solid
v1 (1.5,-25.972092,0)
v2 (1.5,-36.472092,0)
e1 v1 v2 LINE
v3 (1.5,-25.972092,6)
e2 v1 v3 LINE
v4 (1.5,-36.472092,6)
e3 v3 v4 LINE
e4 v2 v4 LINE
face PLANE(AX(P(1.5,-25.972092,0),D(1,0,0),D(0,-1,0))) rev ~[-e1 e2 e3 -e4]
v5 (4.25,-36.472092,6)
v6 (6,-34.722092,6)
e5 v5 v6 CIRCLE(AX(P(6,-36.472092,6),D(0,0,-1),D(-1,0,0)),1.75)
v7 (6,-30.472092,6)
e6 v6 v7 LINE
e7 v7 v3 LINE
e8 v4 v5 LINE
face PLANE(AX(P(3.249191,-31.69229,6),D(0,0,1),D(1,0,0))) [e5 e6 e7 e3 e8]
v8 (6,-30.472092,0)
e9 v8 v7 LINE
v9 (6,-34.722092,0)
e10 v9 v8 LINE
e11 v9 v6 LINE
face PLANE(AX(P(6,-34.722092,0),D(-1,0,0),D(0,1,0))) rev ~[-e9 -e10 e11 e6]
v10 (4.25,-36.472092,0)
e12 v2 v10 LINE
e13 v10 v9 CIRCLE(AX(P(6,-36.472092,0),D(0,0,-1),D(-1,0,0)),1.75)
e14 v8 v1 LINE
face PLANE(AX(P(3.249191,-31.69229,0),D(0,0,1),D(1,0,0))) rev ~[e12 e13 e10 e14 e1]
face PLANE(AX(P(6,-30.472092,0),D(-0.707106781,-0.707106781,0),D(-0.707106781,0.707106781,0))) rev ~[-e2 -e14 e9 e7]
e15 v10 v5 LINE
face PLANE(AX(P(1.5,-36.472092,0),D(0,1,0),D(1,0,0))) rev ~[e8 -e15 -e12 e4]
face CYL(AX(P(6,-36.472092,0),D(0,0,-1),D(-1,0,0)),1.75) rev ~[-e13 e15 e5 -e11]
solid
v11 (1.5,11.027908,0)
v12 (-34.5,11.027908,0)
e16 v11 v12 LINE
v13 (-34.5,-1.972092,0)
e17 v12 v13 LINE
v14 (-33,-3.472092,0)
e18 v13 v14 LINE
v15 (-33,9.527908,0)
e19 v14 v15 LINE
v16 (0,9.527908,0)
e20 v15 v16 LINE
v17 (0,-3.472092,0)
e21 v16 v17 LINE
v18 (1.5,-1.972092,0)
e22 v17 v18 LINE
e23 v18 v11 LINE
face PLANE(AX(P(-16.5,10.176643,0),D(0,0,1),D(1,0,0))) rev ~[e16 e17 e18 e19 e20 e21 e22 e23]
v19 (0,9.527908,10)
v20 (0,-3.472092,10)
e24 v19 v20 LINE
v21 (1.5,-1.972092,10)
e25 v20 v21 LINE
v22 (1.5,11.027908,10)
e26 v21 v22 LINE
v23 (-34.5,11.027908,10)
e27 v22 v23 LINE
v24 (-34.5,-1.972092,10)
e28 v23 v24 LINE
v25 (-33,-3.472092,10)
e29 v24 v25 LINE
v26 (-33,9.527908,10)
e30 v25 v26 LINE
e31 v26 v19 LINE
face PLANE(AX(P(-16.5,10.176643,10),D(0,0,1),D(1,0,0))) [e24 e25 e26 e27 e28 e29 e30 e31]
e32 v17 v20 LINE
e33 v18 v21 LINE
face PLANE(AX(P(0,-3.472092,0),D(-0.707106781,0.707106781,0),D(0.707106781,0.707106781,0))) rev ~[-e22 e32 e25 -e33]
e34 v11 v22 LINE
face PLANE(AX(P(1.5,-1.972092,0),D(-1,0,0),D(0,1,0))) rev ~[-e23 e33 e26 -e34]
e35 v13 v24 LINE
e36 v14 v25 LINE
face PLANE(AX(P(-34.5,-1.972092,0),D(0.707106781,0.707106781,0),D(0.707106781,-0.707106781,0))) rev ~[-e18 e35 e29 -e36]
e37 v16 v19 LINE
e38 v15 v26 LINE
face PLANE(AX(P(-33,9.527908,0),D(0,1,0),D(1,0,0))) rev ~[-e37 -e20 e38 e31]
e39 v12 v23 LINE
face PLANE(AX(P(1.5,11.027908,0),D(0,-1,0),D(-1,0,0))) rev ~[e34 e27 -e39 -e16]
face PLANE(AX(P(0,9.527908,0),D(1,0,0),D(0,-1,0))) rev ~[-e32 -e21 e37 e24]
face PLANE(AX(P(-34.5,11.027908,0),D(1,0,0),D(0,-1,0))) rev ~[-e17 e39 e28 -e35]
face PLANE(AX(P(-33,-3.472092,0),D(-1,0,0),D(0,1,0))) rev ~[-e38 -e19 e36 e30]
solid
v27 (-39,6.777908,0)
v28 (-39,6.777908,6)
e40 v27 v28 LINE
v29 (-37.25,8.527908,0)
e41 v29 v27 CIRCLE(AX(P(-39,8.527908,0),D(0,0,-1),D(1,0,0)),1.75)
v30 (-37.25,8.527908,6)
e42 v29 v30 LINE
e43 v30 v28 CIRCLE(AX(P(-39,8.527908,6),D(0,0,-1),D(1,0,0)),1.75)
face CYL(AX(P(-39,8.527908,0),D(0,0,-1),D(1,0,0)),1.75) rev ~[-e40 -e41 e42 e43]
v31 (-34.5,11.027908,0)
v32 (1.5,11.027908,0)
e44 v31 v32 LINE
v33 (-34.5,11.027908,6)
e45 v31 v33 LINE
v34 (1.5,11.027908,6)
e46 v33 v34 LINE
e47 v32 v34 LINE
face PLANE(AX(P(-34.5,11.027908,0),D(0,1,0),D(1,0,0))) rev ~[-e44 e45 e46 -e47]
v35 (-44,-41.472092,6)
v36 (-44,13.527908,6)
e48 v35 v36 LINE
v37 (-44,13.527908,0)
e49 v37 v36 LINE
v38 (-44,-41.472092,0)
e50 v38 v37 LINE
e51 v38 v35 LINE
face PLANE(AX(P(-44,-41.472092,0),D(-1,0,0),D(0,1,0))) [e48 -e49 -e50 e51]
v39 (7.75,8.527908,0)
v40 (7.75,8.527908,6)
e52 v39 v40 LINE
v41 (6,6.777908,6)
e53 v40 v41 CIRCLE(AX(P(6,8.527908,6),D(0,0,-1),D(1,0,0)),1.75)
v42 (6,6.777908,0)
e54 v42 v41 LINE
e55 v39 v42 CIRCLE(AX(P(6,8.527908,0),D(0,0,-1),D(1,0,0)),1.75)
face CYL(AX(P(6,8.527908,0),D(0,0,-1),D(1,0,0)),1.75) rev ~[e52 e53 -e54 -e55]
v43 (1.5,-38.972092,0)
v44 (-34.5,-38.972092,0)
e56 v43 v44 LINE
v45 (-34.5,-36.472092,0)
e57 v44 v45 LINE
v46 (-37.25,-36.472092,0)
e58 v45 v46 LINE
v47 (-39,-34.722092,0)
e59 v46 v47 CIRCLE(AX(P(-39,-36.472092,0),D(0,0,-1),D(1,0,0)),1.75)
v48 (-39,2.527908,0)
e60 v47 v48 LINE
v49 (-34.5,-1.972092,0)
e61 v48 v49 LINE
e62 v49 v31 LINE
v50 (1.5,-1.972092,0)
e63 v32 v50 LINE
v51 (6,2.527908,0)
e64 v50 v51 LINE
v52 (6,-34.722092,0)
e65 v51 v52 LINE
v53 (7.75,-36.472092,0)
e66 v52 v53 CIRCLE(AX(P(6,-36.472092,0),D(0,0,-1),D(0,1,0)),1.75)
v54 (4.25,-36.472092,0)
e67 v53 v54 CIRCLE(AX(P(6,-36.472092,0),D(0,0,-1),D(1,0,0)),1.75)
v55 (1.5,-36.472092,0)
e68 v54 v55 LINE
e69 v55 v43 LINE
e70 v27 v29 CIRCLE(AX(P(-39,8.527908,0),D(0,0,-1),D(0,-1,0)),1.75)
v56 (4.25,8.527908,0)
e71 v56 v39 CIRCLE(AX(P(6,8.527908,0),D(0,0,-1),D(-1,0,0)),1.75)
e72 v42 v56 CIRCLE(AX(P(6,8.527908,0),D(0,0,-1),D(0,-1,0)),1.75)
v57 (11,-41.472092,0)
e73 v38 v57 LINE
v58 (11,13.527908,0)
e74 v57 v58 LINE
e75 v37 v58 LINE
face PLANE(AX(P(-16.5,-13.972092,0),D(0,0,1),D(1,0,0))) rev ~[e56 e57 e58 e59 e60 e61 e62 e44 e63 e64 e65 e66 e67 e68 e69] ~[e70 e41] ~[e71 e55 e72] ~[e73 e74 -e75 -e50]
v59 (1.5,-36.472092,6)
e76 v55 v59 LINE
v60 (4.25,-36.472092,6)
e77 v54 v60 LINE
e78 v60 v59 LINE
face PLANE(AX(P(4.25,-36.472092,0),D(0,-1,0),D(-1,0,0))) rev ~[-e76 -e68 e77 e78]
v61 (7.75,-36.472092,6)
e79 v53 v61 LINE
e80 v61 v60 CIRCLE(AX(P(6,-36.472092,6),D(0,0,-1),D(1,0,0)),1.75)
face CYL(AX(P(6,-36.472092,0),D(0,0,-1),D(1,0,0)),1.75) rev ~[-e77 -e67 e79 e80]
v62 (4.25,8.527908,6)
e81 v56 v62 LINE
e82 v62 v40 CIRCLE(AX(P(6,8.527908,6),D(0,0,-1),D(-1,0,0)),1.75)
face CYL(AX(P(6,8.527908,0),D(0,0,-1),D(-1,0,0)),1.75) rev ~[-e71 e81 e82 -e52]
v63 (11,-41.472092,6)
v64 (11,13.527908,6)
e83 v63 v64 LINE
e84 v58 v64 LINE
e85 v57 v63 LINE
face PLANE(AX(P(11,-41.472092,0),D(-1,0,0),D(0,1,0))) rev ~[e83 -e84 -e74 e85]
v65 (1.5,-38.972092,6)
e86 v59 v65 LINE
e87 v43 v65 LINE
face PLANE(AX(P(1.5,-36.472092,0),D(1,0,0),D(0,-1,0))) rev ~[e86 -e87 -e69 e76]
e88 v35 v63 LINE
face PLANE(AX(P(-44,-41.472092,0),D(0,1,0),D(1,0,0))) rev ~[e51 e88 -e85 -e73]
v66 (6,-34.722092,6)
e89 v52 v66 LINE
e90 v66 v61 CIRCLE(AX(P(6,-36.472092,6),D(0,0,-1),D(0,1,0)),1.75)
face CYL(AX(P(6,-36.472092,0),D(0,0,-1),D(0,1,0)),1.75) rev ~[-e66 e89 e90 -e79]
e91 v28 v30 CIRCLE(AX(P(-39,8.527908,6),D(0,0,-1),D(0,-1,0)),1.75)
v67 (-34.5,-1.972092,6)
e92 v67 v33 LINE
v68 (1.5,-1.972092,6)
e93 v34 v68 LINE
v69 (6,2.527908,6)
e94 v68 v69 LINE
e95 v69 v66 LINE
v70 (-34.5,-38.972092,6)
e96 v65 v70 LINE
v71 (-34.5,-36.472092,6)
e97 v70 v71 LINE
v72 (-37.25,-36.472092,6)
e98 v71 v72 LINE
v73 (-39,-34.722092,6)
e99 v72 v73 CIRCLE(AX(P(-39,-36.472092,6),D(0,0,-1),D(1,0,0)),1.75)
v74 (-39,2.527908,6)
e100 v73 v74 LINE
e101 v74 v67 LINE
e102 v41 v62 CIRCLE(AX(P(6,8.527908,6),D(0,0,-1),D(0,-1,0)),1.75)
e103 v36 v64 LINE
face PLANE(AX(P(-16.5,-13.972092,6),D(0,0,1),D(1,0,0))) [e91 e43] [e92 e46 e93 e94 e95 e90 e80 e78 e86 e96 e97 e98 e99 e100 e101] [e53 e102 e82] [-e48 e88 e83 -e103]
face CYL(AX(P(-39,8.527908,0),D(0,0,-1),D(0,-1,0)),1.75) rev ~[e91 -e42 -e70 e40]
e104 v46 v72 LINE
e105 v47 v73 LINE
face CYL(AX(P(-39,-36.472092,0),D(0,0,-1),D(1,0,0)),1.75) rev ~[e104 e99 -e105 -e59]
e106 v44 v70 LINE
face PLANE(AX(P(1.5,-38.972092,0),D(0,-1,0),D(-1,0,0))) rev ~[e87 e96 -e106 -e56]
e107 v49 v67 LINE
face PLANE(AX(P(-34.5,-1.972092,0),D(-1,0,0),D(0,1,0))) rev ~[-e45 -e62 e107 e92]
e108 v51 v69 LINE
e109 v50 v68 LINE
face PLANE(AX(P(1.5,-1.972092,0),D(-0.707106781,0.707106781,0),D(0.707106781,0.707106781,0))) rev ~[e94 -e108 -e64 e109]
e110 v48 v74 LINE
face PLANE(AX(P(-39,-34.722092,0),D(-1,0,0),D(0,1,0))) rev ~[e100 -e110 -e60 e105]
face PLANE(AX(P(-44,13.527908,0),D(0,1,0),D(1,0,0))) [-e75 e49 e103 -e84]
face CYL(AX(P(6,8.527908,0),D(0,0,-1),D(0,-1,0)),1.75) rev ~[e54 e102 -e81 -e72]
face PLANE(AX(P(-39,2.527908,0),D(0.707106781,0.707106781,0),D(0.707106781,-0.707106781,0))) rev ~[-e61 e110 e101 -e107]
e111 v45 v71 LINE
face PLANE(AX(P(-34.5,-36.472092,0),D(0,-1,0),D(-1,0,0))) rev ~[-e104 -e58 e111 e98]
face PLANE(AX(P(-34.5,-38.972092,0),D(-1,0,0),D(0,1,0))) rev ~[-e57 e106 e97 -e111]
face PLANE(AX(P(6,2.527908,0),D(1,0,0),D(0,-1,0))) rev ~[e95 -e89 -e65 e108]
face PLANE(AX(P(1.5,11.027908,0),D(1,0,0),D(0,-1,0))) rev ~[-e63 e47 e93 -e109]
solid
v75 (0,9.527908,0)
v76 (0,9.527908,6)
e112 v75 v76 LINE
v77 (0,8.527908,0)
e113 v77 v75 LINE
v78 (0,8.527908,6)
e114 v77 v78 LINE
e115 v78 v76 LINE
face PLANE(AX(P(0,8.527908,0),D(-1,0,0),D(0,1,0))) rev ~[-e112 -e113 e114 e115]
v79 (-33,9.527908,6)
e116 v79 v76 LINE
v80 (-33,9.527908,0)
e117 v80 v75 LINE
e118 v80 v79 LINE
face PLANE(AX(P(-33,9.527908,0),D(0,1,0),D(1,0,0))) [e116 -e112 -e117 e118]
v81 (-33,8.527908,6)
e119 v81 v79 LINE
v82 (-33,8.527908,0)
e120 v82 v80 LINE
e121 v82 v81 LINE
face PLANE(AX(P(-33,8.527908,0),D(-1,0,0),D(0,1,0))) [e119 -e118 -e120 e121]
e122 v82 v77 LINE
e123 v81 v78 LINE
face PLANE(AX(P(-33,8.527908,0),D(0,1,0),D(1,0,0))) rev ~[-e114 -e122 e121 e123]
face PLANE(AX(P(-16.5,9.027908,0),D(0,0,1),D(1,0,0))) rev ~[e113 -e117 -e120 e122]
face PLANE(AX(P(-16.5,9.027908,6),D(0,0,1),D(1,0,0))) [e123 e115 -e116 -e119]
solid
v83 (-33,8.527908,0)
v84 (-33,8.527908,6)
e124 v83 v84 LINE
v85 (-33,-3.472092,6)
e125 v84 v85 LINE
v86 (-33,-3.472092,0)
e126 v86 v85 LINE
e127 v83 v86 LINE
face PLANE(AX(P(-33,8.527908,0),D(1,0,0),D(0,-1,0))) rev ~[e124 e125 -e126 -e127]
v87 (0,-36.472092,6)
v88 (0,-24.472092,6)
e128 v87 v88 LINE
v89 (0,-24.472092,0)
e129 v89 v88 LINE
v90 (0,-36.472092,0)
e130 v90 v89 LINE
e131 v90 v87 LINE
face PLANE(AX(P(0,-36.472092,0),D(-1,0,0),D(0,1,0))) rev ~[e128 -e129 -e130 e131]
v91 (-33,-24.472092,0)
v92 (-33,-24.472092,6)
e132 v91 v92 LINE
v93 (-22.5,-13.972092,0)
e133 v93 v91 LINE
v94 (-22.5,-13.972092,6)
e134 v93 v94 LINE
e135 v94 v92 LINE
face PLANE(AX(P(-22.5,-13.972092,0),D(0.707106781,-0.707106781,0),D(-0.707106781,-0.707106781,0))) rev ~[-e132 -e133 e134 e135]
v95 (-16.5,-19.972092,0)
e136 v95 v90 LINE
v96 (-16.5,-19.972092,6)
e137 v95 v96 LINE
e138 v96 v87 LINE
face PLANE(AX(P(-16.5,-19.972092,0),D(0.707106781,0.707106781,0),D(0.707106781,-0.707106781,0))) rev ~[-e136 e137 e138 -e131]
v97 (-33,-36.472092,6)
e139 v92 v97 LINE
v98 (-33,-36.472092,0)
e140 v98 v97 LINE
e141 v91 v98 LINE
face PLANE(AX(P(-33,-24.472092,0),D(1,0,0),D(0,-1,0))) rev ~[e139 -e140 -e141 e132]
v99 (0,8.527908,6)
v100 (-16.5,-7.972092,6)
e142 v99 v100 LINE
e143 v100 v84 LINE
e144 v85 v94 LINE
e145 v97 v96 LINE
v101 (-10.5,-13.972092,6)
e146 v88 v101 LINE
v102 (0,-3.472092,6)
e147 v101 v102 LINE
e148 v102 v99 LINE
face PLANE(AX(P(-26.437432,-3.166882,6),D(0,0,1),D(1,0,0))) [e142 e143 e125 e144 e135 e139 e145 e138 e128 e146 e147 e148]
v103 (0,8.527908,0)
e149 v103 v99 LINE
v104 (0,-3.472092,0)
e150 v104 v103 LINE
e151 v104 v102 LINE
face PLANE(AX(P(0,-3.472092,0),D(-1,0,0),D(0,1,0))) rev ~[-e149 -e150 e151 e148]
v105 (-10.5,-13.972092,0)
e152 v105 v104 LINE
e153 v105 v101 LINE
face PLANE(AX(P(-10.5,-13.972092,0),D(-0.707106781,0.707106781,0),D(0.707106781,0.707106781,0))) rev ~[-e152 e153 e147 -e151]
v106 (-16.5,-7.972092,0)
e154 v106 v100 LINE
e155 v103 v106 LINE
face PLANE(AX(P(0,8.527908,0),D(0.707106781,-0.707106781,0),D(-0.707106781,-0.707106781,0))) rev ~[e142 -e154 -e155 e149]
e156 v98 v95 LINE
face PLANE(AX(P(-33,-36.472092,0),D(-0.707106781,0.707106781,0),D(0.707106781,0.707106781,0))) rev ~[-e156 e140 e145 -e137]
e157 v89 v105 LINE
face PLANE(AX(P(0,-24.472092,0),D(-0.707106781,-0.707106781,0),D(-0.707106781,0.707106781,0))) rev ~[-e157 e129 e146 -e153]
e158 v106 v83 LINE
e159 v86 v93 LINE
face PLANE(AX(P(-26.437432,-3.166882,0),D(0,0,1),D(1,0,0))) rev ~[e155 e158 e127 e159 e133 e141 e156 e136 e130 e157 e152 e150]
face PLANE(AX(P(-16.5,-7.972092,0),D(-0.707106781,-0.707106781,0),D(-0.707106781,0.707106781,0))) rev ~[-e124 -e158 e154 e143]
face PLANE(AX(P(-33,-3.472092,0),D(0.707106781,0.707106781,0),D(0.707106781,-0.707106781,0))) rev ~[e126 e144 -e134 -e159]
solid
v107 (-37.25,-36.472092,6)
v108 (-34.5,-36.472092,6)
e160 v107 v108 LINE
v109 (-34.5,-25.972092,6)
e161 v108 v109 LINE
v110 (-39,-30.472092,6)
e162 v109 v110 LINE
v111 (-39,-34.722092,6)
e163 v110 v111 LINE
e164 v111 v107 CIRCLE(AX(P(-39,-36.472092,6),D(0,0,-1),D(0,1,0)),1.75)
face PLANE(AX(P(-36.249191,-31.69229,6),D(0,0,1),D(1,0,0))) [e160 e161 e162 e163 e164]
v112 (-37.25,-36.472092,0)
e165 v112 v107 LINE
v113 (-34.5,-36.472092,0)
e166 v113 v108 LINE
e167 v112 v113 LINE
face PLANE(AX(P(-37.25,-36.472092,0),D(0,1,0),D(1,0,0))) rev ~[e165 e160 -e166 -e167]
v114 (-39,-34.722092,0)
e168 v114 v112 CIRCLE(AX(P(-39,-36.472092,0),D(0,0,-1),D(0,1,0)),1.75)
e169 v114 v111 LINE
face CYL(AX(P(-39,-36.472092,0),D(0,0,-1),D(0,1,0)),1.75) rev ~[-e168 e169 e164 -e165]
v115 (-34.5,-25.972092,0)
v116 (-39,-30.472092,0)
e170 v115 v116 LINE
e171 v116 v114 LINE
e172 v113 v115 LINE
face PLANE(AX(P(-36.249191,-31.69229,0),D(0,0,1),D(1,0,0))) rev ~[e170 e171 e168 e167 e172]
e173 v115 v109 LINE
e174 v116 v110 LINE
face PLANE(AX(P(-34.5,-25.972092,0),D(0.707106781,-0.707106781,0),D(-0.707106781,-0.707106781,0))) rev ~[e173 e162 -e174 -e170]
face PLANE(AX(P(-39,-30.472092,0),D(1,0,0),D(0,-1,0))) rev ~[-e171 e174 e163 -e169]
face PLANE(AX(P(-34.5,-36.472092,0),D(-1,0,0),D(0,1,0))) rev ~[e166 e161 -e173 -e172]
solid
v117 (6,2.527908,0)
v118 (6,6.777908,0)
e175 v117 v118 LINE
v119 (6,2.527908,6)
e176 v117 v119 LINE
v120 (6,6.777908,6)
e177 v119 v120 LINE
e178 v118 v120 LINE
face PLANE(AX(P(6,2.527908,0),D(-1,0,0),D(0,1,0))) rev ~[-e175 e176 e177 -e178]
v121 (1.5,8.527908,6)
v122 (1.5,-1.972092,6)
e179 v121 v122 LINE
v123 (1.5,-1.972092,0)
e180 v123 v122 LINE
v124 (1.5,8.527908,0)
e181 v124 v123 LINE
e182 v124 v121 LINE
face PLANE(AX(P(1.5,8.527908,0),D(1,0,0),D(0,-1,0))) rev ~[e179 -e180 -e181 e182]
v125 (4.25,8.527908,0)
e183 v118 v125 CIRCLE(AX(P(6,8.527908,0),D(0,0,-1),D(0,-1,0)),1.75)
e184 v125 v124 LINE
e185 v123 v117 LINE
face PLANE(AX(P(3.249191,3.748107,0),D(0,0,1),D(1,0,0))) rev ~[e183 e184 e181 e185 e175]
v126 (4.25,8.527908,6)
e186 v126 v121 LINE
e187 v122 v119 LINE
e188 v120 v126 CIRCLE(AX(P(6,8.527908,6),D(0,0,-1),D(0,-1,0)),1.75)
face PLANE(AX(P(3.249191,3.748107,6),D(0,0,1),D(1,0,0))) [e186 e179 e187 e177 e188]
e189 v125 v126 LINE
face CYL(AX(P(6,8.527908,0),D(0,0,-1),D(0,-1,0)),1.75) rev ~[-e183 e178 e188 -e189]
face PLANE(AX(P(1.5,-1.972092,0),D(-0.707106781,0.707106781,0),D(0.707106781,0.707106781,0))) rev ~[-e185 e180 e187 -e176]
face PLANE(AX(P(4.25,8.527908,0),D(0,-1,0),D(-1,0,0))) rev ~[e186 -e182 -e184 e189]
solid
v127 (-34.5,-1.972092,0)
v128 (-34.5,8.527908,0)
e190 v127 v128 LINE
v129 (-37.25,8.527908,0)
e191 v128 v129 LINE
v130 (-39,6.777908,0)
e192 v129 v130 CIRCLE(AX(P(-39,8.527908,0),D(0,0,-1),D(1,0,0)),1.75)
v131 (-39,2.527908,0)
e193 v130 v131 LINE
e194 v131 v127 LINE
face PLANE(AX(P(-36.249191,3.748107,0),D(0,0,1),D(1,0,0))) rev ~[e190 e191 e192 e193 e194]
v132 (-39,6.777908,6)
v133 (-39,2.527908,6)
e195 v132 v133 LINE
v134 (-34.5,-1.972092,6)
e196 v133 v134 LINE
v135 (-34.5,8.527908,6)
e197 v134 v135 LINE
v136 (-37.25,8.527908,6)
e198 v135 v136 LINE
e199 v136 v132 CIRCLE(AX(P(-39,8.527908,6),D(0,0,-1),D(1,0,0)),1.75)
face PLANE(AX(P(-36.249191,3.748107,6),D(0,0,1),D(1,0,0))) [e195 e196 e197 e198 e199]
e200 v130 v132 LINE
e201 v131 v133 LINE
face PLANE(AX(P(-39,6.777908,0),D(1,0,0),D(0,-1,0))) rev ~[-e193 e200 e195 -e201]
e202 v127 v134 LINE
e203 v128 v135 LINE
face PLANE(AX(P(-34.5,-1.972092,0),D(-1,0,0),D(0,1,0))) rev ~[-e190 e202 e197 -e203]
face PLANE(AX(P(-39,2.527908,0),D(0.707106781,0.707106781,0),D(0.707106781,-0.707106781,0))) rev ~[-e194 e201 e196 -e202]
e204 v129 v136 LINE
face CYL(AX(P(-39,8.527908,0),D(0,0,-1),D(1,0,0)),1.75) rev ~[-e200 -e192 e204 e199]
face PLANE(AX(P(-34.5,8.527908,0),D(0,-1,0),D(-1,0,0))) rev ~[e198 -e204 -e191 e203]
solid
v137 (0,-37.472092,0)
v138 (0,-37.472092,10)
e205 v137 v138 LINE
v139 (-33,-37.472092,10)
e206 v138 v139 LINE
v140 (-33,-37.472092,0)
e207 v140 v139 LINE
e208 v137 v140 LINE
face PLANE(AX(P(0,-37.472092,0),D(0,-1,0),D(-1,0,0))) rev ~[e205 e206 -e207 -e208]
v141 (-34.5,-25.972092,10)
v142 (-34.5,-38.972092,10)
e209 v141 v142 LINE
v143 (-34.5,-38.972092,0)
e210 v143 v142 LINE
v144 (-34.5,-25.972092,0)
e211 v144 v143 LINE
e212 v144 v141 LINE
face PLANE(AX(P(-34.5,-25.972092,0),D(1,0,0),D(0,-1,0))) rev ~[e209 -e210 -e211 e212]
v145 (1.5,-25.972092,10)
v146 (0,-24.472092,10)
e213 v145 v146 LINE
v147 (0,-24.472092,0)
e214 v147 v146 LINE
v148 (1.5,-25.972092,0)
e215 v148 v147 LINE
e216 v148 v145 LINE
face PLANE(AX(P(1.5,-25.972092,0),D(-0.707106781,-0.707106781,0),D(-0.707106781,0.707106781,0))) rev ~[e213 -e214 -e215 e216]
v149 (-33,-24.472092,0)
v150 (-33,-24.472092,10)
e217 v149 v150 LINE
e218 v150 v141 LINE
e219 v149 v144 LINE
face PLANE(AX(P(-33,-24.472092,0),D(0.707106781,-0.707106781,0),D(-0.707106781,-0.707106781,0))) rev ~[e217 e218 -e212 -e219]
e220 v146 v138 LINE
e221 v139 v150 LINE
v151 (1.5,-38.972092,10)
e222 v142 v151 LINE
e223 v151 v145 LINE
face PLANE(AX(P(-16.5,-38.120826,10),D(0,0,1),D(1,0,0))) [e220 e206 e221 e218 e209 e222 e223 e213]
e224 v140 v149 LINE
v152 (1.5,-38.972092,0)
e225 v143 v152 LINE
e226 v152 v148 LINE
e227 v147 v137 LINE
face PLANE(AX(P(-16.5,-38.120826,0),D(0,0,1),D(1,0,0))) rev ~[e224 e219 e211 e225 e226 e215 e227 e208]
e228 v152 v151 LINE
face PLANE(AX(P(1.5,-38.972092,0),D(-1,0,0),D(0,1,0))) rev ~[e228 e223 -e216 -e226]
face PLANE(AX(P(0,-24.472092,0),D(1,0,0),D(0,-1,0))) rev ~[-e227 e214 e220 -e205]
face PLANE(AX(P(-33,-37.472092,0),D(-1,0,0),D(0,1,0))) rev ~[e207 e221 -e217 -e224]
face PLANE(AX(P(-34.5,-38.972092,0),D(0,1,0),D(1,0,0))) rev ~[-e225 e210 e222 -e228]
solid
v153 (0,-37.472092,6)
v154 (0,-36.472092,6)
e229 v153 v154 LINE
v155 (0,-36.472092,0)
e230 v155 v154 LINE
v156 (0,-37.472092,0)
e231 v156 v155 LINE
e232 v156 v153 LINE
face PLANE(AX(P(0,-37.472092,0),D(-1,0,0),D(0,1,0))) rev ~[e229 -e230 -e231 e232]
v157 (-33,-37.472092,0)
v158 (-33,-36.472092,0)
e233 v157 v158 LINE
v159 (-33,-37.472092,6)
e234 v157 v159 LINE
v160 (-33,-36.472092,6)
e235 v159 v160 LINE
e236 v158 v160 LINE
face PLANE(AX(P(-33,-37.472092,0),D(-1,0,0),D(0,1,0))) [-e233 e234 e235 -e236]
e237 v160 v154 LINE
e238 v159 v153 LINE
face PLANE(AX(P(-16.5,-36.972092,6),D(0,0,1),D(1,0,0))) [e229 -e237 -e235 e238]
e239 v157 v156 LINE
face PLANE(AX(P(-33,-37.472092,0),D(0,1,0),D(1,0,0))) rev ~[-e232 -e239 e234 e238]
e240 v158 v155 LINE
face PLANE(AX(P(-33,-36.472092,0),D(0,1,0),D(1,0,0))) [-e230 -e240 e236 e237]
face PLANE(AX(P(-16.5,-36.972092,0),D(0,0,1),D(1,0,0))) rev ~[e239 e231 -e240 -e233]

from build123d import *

# Parameters (mm, degrees)
F0_W     = 55
F0_H     = 55
F1_DEPTH = 6
F0_W_2   = 33
F0_H_2   = 1
F2_DEPTH = 10
F3_DEPTH = 6


with BuildPart() as f1:
    # F0 (on Top) → F1 (new body)
    with BuildSketch(Plane.XY):
        with Locations((-16.5, -13.9720915013)):
            Rectangle(F0_W, F0_H)
        with BuildLine():
            ThreePointArc((-39, 6.7779084987), (-40.2374368671, 9.7653453658), (-37.25, 8.5279084987))
            Line((-37.25, 8.5279084987), (-34.5, 8.5279084987))
            Line((-34.5, 8.5279084987), (-34.5, 11.0279084987))
            Line((-34.5, 11.0279084987), (1.5, 11.0279084987))
            Line((1.5, 11.0279084987), (1.5, 8.5279084987))
            Line((1.5, 8.5279084987), (4.25, 8.5279084987))
            ThreePointArc((4.25, 8.5279084987), (6, 10.2779084987), (7.75, 8.5279084987))
            ThreePointArc((7.75, 8.5279084987), (7.2374368671, 7.2904716317), (6, 6.7779084987))
            Line((6, 6.7779084987), (6, 2.5279084987))
            Line((6, 2.5279084987), (6, -30.4720915013))
            Line((6, -30.4720915013), (6, -34.7220915013))
            ThreePointArc((6, -34.7220915013), (7.2374368671, -35.2346546342), (7.75, -36.4720915013))
            ThreePointArc((7.75, -36.4720915013), (6, -38.2220915013), (4.25, -36.4720915013))
            Line((4.25, -36.4720915013), (1.5, -36.4720915013))
            Line((1.5, -36.4720915013), (1.5, -38.9720915013))
            Line((1.5, -38.9720915013), (-34.5, -38.9720915013))
            Line((-34.5, -38.9720915013), (-34.5, -36.4720915013))
            Line((-34.5, -36.4720915013), (-37.25, -36.4720915013))
            ThreePointArc((-37.25, -36.4720915013), (-40.2374368671, -37.7095283683), (-39, -34.7220915013))
            Line((-39, -34.7220915013), (-39, -30.4720915013))
            Line((-39, -30.4720915013), (-39, 2.5279084987))
            Line((-39, 2.5279084987), (-39, 6.7779084987))
        make_face(mode=Mode.SUBTRACT)
        with BuildLine():
            Line((-34.5, 8.5279084987), (-37.25, 8.5279084987))
            ThreePointArc((-37.25, 8.5279084987), (-37.7625631329, 7.2904716317), (-39, 6.7779084987))
            Line((-39, 6.7779084987), (-39, 2.5279084987))
            Line((-39, 2.5279084987), (-34.5, -1.9720915013))
            Line((-34.5, -1.9720915013), (-34.5, 8.5279084987))
        make_face()
        with BuildLine():
            Line((4.25, 8.5279084987), (1.5, 8.5279084987))
            Line((1.5, 8.5279084987), (1.5, -1.9720915013))
            Line((1.5, -1.9720915013), (6, 2.5279084987))
            Line((6, 2.5279084987), (6, 6.7779084987))
            ThreePointArc((6, 6.7779084987), (4.7625631329, 7.2904716317), (4.25, 8.5279084987))
        make_face()
    extrude(amount=F1_DEPTH)


with BuildPart() as f1b:
    # F0 (on Top) → F1, piece 2 (new body)
    with BuildSketch(Plane.XY):
        with Locations((-16.5, 9.0279084987)):
            Rectangle(F0_W_2, F0_H_2)
    extrude(amount=F1_DEPTH)


with BuildPart() as f1c:
    # F0 (on Top) → F1, piece 3 (new body)
    with BuildSketch(Plane.XY):
        with Locations((-16.5, -36.9720915013)):
            Rectangle(F0_W_2, F0_H_2)
    extrude(amount=F1_DEPTH)


with BuildPart() as f2:
    # F0 (on Top) → F2 (new body)
    with BuildSketch(Plane.XY):
        Polygon((-34.5, 11.0279084987), (-34.5, 8.5279084987), (-33, 8.5279084987), (-33, 9.5279084987), (0, 9.5279084987), (0, 8.5279084987), (1.5, 8.5279084987), (1.5, 11.0279084987), align=None)
        Polygon((1.5, 8.5279084987), (0, 8.5279084987), (0, -3.4720915013), (1.5, -1.9720915013), align=None)
        Polygon((-33, 8.5279084987), (-34.5, 8.5279084987), (-34.5, -1.9720915013), (-33, -3.4720915013), align=None)
    extrude(amount=F2_DEPTH)


with BuildPart() as f2b:
    # F0 (on Top) → F2, piece 2 (new body)
    with BuildSketch(Plane.XY):
        Polygon((-33, -36.4720915013), (-34.5, -36.4720915013), (-34.5, -38.9720915013), (1.5, -38.9720915013), (1.5, -36.4720915013), (0, -36.4720915013), (0, -37.4720915013), (-33, -37.4720915013), align=None)
        Polygon((-33, -24.4720915013), (-34.5, -25.9720915013), (-34.5, -36.4720915013), (-33, -36.4720915013), align=None)
        Polygon((1.5, -25.9720915013), (0, -24.4720915013), (0, -36.4720915013), (1.5, -36.4720915013), align=None)
    extrude(amount=F2_DEPTH)


with BuildPart() as f3:
    # F0 (on Top) → F3 (new body)
    with BuildSketch(Plane.XY):
        Polygon((-16.5, -7.9720915013), (-33, 8.5279084987), (-33, -3.4720915013), (-22.5, -13.9720915013), align=None)
        Polygon((0, -24.4720915013), (-10.5, -13.9720915013), (-16.5, -19.9720915013), (0, -36.4720915013), align=None)
        Polygon((-22.5, -13.9720915013), (-33, -24.4720915013), (-33, -36.4720915013), (-16.5, -19.9720915013), align=None)
        Polygon((0, -3.4720915013), (0, 8.5279084987), (-16.5, -7.9720915013), (-10.5, -13.9720915013), align=None)
        Polygon((-10.5, -13.9720915013), (-16.5, -7.9720915013), (-22.5, -13.9720915013), (-16.5, -19.9720915013), align=None)
    extrude(amount=F3_DEPTH)


with BuildPart() as f3b:
    # F0 (on Top) → F3, piece 2 (new body)
    with BuildSketch(Plane.XY):
        with BuildLine():
            Line((6, -30.4720915013), (1.5, -25.9720915013))
            Line((1.5, -25.9720915013), (1.5, -36.4720915013))
            Line((1.5, -36.4720915013), (4.25, -36.4720915013))
            ThreePointArc((4.25, -36.4720915013), (4.7625631329, -35.2346546342), (6, -34.7220915013))
            Line((6, -34.7220915013), (6, -30.4720915013))
        make_face()
    extrude(amount=F3_DEPTH)


with BuildPart() as f3c:
    # F0 (on Top) → F3, piece 3 (new body)
    with BuildSketch(Plane.XY):
        with BuildLine():
            Line((4.25, 8.5279084987), (1.5, 8.5279084987))
            Line((1.5, 8.5279084987), (1.5, -1.9720915013))
            Line((1.5, -1.9720915013), (6, 2.5279084987))
            Line((6, 2.5279084987), (6, 6.7779084987))
            ThreePointArc((6, 6.7779084987), (4.7625631329, 7.2904716317), (4.25, 8.5279084987))
        make_face()
    extrude(amount=F3_DEPTH)


with BuildPart() as f3d:
    # F0 (on Top) → F3, piece 4 (new body)
    with BuildSketch(Plane.XY):
        with BuildLine():
            Line((-34.5, 8.5279084987), (-37.25, 8.5279084987))
            ThreePointArc((-37.25, 8.5279084987), (-37.7625631329, 7.2904716317), (-39, 6.7779084987))
            Line((-39, 6.7779084987), (-39, 2.5279084987))
            Line((-39, 2.5279084987), (-34.5, -1.9720915013))
            Line((-34.5, -1.9720915013), (-34.5, 8.5279084987))
        make_face()
    extrude(amount=F3_DEPTH)


with BuildPart() as f3e:
    # F0 (on Top) → F3, piece 5 (new body)
    with BuildSketch(Plane.XY):
        with BuildLine():
            Line((-34.5, -25.9720915013), (-39, -30.4720915013))
            Line((-39, -30.4720915013), (-39, -34.7220915013))
            ThreePointArc((-39, -34.7220915013), (-37.7625631329, -35.2346546342), (-37.25, -36.4720915013))
            Line((-37.25, -36.4720915013), (-34.5, -36.4720915013))
            Line((-34.5, -36.4720915013), (-34.5, -25.9720915013))
        make_face()
    extrude(amount=F3_DEPTH)


solid = Compound([f1.part, f1b.part, f1c.part, f2.part, f2b.part, f3.part, f3b.part, f3c.part, f3d.part, f3e.part])
